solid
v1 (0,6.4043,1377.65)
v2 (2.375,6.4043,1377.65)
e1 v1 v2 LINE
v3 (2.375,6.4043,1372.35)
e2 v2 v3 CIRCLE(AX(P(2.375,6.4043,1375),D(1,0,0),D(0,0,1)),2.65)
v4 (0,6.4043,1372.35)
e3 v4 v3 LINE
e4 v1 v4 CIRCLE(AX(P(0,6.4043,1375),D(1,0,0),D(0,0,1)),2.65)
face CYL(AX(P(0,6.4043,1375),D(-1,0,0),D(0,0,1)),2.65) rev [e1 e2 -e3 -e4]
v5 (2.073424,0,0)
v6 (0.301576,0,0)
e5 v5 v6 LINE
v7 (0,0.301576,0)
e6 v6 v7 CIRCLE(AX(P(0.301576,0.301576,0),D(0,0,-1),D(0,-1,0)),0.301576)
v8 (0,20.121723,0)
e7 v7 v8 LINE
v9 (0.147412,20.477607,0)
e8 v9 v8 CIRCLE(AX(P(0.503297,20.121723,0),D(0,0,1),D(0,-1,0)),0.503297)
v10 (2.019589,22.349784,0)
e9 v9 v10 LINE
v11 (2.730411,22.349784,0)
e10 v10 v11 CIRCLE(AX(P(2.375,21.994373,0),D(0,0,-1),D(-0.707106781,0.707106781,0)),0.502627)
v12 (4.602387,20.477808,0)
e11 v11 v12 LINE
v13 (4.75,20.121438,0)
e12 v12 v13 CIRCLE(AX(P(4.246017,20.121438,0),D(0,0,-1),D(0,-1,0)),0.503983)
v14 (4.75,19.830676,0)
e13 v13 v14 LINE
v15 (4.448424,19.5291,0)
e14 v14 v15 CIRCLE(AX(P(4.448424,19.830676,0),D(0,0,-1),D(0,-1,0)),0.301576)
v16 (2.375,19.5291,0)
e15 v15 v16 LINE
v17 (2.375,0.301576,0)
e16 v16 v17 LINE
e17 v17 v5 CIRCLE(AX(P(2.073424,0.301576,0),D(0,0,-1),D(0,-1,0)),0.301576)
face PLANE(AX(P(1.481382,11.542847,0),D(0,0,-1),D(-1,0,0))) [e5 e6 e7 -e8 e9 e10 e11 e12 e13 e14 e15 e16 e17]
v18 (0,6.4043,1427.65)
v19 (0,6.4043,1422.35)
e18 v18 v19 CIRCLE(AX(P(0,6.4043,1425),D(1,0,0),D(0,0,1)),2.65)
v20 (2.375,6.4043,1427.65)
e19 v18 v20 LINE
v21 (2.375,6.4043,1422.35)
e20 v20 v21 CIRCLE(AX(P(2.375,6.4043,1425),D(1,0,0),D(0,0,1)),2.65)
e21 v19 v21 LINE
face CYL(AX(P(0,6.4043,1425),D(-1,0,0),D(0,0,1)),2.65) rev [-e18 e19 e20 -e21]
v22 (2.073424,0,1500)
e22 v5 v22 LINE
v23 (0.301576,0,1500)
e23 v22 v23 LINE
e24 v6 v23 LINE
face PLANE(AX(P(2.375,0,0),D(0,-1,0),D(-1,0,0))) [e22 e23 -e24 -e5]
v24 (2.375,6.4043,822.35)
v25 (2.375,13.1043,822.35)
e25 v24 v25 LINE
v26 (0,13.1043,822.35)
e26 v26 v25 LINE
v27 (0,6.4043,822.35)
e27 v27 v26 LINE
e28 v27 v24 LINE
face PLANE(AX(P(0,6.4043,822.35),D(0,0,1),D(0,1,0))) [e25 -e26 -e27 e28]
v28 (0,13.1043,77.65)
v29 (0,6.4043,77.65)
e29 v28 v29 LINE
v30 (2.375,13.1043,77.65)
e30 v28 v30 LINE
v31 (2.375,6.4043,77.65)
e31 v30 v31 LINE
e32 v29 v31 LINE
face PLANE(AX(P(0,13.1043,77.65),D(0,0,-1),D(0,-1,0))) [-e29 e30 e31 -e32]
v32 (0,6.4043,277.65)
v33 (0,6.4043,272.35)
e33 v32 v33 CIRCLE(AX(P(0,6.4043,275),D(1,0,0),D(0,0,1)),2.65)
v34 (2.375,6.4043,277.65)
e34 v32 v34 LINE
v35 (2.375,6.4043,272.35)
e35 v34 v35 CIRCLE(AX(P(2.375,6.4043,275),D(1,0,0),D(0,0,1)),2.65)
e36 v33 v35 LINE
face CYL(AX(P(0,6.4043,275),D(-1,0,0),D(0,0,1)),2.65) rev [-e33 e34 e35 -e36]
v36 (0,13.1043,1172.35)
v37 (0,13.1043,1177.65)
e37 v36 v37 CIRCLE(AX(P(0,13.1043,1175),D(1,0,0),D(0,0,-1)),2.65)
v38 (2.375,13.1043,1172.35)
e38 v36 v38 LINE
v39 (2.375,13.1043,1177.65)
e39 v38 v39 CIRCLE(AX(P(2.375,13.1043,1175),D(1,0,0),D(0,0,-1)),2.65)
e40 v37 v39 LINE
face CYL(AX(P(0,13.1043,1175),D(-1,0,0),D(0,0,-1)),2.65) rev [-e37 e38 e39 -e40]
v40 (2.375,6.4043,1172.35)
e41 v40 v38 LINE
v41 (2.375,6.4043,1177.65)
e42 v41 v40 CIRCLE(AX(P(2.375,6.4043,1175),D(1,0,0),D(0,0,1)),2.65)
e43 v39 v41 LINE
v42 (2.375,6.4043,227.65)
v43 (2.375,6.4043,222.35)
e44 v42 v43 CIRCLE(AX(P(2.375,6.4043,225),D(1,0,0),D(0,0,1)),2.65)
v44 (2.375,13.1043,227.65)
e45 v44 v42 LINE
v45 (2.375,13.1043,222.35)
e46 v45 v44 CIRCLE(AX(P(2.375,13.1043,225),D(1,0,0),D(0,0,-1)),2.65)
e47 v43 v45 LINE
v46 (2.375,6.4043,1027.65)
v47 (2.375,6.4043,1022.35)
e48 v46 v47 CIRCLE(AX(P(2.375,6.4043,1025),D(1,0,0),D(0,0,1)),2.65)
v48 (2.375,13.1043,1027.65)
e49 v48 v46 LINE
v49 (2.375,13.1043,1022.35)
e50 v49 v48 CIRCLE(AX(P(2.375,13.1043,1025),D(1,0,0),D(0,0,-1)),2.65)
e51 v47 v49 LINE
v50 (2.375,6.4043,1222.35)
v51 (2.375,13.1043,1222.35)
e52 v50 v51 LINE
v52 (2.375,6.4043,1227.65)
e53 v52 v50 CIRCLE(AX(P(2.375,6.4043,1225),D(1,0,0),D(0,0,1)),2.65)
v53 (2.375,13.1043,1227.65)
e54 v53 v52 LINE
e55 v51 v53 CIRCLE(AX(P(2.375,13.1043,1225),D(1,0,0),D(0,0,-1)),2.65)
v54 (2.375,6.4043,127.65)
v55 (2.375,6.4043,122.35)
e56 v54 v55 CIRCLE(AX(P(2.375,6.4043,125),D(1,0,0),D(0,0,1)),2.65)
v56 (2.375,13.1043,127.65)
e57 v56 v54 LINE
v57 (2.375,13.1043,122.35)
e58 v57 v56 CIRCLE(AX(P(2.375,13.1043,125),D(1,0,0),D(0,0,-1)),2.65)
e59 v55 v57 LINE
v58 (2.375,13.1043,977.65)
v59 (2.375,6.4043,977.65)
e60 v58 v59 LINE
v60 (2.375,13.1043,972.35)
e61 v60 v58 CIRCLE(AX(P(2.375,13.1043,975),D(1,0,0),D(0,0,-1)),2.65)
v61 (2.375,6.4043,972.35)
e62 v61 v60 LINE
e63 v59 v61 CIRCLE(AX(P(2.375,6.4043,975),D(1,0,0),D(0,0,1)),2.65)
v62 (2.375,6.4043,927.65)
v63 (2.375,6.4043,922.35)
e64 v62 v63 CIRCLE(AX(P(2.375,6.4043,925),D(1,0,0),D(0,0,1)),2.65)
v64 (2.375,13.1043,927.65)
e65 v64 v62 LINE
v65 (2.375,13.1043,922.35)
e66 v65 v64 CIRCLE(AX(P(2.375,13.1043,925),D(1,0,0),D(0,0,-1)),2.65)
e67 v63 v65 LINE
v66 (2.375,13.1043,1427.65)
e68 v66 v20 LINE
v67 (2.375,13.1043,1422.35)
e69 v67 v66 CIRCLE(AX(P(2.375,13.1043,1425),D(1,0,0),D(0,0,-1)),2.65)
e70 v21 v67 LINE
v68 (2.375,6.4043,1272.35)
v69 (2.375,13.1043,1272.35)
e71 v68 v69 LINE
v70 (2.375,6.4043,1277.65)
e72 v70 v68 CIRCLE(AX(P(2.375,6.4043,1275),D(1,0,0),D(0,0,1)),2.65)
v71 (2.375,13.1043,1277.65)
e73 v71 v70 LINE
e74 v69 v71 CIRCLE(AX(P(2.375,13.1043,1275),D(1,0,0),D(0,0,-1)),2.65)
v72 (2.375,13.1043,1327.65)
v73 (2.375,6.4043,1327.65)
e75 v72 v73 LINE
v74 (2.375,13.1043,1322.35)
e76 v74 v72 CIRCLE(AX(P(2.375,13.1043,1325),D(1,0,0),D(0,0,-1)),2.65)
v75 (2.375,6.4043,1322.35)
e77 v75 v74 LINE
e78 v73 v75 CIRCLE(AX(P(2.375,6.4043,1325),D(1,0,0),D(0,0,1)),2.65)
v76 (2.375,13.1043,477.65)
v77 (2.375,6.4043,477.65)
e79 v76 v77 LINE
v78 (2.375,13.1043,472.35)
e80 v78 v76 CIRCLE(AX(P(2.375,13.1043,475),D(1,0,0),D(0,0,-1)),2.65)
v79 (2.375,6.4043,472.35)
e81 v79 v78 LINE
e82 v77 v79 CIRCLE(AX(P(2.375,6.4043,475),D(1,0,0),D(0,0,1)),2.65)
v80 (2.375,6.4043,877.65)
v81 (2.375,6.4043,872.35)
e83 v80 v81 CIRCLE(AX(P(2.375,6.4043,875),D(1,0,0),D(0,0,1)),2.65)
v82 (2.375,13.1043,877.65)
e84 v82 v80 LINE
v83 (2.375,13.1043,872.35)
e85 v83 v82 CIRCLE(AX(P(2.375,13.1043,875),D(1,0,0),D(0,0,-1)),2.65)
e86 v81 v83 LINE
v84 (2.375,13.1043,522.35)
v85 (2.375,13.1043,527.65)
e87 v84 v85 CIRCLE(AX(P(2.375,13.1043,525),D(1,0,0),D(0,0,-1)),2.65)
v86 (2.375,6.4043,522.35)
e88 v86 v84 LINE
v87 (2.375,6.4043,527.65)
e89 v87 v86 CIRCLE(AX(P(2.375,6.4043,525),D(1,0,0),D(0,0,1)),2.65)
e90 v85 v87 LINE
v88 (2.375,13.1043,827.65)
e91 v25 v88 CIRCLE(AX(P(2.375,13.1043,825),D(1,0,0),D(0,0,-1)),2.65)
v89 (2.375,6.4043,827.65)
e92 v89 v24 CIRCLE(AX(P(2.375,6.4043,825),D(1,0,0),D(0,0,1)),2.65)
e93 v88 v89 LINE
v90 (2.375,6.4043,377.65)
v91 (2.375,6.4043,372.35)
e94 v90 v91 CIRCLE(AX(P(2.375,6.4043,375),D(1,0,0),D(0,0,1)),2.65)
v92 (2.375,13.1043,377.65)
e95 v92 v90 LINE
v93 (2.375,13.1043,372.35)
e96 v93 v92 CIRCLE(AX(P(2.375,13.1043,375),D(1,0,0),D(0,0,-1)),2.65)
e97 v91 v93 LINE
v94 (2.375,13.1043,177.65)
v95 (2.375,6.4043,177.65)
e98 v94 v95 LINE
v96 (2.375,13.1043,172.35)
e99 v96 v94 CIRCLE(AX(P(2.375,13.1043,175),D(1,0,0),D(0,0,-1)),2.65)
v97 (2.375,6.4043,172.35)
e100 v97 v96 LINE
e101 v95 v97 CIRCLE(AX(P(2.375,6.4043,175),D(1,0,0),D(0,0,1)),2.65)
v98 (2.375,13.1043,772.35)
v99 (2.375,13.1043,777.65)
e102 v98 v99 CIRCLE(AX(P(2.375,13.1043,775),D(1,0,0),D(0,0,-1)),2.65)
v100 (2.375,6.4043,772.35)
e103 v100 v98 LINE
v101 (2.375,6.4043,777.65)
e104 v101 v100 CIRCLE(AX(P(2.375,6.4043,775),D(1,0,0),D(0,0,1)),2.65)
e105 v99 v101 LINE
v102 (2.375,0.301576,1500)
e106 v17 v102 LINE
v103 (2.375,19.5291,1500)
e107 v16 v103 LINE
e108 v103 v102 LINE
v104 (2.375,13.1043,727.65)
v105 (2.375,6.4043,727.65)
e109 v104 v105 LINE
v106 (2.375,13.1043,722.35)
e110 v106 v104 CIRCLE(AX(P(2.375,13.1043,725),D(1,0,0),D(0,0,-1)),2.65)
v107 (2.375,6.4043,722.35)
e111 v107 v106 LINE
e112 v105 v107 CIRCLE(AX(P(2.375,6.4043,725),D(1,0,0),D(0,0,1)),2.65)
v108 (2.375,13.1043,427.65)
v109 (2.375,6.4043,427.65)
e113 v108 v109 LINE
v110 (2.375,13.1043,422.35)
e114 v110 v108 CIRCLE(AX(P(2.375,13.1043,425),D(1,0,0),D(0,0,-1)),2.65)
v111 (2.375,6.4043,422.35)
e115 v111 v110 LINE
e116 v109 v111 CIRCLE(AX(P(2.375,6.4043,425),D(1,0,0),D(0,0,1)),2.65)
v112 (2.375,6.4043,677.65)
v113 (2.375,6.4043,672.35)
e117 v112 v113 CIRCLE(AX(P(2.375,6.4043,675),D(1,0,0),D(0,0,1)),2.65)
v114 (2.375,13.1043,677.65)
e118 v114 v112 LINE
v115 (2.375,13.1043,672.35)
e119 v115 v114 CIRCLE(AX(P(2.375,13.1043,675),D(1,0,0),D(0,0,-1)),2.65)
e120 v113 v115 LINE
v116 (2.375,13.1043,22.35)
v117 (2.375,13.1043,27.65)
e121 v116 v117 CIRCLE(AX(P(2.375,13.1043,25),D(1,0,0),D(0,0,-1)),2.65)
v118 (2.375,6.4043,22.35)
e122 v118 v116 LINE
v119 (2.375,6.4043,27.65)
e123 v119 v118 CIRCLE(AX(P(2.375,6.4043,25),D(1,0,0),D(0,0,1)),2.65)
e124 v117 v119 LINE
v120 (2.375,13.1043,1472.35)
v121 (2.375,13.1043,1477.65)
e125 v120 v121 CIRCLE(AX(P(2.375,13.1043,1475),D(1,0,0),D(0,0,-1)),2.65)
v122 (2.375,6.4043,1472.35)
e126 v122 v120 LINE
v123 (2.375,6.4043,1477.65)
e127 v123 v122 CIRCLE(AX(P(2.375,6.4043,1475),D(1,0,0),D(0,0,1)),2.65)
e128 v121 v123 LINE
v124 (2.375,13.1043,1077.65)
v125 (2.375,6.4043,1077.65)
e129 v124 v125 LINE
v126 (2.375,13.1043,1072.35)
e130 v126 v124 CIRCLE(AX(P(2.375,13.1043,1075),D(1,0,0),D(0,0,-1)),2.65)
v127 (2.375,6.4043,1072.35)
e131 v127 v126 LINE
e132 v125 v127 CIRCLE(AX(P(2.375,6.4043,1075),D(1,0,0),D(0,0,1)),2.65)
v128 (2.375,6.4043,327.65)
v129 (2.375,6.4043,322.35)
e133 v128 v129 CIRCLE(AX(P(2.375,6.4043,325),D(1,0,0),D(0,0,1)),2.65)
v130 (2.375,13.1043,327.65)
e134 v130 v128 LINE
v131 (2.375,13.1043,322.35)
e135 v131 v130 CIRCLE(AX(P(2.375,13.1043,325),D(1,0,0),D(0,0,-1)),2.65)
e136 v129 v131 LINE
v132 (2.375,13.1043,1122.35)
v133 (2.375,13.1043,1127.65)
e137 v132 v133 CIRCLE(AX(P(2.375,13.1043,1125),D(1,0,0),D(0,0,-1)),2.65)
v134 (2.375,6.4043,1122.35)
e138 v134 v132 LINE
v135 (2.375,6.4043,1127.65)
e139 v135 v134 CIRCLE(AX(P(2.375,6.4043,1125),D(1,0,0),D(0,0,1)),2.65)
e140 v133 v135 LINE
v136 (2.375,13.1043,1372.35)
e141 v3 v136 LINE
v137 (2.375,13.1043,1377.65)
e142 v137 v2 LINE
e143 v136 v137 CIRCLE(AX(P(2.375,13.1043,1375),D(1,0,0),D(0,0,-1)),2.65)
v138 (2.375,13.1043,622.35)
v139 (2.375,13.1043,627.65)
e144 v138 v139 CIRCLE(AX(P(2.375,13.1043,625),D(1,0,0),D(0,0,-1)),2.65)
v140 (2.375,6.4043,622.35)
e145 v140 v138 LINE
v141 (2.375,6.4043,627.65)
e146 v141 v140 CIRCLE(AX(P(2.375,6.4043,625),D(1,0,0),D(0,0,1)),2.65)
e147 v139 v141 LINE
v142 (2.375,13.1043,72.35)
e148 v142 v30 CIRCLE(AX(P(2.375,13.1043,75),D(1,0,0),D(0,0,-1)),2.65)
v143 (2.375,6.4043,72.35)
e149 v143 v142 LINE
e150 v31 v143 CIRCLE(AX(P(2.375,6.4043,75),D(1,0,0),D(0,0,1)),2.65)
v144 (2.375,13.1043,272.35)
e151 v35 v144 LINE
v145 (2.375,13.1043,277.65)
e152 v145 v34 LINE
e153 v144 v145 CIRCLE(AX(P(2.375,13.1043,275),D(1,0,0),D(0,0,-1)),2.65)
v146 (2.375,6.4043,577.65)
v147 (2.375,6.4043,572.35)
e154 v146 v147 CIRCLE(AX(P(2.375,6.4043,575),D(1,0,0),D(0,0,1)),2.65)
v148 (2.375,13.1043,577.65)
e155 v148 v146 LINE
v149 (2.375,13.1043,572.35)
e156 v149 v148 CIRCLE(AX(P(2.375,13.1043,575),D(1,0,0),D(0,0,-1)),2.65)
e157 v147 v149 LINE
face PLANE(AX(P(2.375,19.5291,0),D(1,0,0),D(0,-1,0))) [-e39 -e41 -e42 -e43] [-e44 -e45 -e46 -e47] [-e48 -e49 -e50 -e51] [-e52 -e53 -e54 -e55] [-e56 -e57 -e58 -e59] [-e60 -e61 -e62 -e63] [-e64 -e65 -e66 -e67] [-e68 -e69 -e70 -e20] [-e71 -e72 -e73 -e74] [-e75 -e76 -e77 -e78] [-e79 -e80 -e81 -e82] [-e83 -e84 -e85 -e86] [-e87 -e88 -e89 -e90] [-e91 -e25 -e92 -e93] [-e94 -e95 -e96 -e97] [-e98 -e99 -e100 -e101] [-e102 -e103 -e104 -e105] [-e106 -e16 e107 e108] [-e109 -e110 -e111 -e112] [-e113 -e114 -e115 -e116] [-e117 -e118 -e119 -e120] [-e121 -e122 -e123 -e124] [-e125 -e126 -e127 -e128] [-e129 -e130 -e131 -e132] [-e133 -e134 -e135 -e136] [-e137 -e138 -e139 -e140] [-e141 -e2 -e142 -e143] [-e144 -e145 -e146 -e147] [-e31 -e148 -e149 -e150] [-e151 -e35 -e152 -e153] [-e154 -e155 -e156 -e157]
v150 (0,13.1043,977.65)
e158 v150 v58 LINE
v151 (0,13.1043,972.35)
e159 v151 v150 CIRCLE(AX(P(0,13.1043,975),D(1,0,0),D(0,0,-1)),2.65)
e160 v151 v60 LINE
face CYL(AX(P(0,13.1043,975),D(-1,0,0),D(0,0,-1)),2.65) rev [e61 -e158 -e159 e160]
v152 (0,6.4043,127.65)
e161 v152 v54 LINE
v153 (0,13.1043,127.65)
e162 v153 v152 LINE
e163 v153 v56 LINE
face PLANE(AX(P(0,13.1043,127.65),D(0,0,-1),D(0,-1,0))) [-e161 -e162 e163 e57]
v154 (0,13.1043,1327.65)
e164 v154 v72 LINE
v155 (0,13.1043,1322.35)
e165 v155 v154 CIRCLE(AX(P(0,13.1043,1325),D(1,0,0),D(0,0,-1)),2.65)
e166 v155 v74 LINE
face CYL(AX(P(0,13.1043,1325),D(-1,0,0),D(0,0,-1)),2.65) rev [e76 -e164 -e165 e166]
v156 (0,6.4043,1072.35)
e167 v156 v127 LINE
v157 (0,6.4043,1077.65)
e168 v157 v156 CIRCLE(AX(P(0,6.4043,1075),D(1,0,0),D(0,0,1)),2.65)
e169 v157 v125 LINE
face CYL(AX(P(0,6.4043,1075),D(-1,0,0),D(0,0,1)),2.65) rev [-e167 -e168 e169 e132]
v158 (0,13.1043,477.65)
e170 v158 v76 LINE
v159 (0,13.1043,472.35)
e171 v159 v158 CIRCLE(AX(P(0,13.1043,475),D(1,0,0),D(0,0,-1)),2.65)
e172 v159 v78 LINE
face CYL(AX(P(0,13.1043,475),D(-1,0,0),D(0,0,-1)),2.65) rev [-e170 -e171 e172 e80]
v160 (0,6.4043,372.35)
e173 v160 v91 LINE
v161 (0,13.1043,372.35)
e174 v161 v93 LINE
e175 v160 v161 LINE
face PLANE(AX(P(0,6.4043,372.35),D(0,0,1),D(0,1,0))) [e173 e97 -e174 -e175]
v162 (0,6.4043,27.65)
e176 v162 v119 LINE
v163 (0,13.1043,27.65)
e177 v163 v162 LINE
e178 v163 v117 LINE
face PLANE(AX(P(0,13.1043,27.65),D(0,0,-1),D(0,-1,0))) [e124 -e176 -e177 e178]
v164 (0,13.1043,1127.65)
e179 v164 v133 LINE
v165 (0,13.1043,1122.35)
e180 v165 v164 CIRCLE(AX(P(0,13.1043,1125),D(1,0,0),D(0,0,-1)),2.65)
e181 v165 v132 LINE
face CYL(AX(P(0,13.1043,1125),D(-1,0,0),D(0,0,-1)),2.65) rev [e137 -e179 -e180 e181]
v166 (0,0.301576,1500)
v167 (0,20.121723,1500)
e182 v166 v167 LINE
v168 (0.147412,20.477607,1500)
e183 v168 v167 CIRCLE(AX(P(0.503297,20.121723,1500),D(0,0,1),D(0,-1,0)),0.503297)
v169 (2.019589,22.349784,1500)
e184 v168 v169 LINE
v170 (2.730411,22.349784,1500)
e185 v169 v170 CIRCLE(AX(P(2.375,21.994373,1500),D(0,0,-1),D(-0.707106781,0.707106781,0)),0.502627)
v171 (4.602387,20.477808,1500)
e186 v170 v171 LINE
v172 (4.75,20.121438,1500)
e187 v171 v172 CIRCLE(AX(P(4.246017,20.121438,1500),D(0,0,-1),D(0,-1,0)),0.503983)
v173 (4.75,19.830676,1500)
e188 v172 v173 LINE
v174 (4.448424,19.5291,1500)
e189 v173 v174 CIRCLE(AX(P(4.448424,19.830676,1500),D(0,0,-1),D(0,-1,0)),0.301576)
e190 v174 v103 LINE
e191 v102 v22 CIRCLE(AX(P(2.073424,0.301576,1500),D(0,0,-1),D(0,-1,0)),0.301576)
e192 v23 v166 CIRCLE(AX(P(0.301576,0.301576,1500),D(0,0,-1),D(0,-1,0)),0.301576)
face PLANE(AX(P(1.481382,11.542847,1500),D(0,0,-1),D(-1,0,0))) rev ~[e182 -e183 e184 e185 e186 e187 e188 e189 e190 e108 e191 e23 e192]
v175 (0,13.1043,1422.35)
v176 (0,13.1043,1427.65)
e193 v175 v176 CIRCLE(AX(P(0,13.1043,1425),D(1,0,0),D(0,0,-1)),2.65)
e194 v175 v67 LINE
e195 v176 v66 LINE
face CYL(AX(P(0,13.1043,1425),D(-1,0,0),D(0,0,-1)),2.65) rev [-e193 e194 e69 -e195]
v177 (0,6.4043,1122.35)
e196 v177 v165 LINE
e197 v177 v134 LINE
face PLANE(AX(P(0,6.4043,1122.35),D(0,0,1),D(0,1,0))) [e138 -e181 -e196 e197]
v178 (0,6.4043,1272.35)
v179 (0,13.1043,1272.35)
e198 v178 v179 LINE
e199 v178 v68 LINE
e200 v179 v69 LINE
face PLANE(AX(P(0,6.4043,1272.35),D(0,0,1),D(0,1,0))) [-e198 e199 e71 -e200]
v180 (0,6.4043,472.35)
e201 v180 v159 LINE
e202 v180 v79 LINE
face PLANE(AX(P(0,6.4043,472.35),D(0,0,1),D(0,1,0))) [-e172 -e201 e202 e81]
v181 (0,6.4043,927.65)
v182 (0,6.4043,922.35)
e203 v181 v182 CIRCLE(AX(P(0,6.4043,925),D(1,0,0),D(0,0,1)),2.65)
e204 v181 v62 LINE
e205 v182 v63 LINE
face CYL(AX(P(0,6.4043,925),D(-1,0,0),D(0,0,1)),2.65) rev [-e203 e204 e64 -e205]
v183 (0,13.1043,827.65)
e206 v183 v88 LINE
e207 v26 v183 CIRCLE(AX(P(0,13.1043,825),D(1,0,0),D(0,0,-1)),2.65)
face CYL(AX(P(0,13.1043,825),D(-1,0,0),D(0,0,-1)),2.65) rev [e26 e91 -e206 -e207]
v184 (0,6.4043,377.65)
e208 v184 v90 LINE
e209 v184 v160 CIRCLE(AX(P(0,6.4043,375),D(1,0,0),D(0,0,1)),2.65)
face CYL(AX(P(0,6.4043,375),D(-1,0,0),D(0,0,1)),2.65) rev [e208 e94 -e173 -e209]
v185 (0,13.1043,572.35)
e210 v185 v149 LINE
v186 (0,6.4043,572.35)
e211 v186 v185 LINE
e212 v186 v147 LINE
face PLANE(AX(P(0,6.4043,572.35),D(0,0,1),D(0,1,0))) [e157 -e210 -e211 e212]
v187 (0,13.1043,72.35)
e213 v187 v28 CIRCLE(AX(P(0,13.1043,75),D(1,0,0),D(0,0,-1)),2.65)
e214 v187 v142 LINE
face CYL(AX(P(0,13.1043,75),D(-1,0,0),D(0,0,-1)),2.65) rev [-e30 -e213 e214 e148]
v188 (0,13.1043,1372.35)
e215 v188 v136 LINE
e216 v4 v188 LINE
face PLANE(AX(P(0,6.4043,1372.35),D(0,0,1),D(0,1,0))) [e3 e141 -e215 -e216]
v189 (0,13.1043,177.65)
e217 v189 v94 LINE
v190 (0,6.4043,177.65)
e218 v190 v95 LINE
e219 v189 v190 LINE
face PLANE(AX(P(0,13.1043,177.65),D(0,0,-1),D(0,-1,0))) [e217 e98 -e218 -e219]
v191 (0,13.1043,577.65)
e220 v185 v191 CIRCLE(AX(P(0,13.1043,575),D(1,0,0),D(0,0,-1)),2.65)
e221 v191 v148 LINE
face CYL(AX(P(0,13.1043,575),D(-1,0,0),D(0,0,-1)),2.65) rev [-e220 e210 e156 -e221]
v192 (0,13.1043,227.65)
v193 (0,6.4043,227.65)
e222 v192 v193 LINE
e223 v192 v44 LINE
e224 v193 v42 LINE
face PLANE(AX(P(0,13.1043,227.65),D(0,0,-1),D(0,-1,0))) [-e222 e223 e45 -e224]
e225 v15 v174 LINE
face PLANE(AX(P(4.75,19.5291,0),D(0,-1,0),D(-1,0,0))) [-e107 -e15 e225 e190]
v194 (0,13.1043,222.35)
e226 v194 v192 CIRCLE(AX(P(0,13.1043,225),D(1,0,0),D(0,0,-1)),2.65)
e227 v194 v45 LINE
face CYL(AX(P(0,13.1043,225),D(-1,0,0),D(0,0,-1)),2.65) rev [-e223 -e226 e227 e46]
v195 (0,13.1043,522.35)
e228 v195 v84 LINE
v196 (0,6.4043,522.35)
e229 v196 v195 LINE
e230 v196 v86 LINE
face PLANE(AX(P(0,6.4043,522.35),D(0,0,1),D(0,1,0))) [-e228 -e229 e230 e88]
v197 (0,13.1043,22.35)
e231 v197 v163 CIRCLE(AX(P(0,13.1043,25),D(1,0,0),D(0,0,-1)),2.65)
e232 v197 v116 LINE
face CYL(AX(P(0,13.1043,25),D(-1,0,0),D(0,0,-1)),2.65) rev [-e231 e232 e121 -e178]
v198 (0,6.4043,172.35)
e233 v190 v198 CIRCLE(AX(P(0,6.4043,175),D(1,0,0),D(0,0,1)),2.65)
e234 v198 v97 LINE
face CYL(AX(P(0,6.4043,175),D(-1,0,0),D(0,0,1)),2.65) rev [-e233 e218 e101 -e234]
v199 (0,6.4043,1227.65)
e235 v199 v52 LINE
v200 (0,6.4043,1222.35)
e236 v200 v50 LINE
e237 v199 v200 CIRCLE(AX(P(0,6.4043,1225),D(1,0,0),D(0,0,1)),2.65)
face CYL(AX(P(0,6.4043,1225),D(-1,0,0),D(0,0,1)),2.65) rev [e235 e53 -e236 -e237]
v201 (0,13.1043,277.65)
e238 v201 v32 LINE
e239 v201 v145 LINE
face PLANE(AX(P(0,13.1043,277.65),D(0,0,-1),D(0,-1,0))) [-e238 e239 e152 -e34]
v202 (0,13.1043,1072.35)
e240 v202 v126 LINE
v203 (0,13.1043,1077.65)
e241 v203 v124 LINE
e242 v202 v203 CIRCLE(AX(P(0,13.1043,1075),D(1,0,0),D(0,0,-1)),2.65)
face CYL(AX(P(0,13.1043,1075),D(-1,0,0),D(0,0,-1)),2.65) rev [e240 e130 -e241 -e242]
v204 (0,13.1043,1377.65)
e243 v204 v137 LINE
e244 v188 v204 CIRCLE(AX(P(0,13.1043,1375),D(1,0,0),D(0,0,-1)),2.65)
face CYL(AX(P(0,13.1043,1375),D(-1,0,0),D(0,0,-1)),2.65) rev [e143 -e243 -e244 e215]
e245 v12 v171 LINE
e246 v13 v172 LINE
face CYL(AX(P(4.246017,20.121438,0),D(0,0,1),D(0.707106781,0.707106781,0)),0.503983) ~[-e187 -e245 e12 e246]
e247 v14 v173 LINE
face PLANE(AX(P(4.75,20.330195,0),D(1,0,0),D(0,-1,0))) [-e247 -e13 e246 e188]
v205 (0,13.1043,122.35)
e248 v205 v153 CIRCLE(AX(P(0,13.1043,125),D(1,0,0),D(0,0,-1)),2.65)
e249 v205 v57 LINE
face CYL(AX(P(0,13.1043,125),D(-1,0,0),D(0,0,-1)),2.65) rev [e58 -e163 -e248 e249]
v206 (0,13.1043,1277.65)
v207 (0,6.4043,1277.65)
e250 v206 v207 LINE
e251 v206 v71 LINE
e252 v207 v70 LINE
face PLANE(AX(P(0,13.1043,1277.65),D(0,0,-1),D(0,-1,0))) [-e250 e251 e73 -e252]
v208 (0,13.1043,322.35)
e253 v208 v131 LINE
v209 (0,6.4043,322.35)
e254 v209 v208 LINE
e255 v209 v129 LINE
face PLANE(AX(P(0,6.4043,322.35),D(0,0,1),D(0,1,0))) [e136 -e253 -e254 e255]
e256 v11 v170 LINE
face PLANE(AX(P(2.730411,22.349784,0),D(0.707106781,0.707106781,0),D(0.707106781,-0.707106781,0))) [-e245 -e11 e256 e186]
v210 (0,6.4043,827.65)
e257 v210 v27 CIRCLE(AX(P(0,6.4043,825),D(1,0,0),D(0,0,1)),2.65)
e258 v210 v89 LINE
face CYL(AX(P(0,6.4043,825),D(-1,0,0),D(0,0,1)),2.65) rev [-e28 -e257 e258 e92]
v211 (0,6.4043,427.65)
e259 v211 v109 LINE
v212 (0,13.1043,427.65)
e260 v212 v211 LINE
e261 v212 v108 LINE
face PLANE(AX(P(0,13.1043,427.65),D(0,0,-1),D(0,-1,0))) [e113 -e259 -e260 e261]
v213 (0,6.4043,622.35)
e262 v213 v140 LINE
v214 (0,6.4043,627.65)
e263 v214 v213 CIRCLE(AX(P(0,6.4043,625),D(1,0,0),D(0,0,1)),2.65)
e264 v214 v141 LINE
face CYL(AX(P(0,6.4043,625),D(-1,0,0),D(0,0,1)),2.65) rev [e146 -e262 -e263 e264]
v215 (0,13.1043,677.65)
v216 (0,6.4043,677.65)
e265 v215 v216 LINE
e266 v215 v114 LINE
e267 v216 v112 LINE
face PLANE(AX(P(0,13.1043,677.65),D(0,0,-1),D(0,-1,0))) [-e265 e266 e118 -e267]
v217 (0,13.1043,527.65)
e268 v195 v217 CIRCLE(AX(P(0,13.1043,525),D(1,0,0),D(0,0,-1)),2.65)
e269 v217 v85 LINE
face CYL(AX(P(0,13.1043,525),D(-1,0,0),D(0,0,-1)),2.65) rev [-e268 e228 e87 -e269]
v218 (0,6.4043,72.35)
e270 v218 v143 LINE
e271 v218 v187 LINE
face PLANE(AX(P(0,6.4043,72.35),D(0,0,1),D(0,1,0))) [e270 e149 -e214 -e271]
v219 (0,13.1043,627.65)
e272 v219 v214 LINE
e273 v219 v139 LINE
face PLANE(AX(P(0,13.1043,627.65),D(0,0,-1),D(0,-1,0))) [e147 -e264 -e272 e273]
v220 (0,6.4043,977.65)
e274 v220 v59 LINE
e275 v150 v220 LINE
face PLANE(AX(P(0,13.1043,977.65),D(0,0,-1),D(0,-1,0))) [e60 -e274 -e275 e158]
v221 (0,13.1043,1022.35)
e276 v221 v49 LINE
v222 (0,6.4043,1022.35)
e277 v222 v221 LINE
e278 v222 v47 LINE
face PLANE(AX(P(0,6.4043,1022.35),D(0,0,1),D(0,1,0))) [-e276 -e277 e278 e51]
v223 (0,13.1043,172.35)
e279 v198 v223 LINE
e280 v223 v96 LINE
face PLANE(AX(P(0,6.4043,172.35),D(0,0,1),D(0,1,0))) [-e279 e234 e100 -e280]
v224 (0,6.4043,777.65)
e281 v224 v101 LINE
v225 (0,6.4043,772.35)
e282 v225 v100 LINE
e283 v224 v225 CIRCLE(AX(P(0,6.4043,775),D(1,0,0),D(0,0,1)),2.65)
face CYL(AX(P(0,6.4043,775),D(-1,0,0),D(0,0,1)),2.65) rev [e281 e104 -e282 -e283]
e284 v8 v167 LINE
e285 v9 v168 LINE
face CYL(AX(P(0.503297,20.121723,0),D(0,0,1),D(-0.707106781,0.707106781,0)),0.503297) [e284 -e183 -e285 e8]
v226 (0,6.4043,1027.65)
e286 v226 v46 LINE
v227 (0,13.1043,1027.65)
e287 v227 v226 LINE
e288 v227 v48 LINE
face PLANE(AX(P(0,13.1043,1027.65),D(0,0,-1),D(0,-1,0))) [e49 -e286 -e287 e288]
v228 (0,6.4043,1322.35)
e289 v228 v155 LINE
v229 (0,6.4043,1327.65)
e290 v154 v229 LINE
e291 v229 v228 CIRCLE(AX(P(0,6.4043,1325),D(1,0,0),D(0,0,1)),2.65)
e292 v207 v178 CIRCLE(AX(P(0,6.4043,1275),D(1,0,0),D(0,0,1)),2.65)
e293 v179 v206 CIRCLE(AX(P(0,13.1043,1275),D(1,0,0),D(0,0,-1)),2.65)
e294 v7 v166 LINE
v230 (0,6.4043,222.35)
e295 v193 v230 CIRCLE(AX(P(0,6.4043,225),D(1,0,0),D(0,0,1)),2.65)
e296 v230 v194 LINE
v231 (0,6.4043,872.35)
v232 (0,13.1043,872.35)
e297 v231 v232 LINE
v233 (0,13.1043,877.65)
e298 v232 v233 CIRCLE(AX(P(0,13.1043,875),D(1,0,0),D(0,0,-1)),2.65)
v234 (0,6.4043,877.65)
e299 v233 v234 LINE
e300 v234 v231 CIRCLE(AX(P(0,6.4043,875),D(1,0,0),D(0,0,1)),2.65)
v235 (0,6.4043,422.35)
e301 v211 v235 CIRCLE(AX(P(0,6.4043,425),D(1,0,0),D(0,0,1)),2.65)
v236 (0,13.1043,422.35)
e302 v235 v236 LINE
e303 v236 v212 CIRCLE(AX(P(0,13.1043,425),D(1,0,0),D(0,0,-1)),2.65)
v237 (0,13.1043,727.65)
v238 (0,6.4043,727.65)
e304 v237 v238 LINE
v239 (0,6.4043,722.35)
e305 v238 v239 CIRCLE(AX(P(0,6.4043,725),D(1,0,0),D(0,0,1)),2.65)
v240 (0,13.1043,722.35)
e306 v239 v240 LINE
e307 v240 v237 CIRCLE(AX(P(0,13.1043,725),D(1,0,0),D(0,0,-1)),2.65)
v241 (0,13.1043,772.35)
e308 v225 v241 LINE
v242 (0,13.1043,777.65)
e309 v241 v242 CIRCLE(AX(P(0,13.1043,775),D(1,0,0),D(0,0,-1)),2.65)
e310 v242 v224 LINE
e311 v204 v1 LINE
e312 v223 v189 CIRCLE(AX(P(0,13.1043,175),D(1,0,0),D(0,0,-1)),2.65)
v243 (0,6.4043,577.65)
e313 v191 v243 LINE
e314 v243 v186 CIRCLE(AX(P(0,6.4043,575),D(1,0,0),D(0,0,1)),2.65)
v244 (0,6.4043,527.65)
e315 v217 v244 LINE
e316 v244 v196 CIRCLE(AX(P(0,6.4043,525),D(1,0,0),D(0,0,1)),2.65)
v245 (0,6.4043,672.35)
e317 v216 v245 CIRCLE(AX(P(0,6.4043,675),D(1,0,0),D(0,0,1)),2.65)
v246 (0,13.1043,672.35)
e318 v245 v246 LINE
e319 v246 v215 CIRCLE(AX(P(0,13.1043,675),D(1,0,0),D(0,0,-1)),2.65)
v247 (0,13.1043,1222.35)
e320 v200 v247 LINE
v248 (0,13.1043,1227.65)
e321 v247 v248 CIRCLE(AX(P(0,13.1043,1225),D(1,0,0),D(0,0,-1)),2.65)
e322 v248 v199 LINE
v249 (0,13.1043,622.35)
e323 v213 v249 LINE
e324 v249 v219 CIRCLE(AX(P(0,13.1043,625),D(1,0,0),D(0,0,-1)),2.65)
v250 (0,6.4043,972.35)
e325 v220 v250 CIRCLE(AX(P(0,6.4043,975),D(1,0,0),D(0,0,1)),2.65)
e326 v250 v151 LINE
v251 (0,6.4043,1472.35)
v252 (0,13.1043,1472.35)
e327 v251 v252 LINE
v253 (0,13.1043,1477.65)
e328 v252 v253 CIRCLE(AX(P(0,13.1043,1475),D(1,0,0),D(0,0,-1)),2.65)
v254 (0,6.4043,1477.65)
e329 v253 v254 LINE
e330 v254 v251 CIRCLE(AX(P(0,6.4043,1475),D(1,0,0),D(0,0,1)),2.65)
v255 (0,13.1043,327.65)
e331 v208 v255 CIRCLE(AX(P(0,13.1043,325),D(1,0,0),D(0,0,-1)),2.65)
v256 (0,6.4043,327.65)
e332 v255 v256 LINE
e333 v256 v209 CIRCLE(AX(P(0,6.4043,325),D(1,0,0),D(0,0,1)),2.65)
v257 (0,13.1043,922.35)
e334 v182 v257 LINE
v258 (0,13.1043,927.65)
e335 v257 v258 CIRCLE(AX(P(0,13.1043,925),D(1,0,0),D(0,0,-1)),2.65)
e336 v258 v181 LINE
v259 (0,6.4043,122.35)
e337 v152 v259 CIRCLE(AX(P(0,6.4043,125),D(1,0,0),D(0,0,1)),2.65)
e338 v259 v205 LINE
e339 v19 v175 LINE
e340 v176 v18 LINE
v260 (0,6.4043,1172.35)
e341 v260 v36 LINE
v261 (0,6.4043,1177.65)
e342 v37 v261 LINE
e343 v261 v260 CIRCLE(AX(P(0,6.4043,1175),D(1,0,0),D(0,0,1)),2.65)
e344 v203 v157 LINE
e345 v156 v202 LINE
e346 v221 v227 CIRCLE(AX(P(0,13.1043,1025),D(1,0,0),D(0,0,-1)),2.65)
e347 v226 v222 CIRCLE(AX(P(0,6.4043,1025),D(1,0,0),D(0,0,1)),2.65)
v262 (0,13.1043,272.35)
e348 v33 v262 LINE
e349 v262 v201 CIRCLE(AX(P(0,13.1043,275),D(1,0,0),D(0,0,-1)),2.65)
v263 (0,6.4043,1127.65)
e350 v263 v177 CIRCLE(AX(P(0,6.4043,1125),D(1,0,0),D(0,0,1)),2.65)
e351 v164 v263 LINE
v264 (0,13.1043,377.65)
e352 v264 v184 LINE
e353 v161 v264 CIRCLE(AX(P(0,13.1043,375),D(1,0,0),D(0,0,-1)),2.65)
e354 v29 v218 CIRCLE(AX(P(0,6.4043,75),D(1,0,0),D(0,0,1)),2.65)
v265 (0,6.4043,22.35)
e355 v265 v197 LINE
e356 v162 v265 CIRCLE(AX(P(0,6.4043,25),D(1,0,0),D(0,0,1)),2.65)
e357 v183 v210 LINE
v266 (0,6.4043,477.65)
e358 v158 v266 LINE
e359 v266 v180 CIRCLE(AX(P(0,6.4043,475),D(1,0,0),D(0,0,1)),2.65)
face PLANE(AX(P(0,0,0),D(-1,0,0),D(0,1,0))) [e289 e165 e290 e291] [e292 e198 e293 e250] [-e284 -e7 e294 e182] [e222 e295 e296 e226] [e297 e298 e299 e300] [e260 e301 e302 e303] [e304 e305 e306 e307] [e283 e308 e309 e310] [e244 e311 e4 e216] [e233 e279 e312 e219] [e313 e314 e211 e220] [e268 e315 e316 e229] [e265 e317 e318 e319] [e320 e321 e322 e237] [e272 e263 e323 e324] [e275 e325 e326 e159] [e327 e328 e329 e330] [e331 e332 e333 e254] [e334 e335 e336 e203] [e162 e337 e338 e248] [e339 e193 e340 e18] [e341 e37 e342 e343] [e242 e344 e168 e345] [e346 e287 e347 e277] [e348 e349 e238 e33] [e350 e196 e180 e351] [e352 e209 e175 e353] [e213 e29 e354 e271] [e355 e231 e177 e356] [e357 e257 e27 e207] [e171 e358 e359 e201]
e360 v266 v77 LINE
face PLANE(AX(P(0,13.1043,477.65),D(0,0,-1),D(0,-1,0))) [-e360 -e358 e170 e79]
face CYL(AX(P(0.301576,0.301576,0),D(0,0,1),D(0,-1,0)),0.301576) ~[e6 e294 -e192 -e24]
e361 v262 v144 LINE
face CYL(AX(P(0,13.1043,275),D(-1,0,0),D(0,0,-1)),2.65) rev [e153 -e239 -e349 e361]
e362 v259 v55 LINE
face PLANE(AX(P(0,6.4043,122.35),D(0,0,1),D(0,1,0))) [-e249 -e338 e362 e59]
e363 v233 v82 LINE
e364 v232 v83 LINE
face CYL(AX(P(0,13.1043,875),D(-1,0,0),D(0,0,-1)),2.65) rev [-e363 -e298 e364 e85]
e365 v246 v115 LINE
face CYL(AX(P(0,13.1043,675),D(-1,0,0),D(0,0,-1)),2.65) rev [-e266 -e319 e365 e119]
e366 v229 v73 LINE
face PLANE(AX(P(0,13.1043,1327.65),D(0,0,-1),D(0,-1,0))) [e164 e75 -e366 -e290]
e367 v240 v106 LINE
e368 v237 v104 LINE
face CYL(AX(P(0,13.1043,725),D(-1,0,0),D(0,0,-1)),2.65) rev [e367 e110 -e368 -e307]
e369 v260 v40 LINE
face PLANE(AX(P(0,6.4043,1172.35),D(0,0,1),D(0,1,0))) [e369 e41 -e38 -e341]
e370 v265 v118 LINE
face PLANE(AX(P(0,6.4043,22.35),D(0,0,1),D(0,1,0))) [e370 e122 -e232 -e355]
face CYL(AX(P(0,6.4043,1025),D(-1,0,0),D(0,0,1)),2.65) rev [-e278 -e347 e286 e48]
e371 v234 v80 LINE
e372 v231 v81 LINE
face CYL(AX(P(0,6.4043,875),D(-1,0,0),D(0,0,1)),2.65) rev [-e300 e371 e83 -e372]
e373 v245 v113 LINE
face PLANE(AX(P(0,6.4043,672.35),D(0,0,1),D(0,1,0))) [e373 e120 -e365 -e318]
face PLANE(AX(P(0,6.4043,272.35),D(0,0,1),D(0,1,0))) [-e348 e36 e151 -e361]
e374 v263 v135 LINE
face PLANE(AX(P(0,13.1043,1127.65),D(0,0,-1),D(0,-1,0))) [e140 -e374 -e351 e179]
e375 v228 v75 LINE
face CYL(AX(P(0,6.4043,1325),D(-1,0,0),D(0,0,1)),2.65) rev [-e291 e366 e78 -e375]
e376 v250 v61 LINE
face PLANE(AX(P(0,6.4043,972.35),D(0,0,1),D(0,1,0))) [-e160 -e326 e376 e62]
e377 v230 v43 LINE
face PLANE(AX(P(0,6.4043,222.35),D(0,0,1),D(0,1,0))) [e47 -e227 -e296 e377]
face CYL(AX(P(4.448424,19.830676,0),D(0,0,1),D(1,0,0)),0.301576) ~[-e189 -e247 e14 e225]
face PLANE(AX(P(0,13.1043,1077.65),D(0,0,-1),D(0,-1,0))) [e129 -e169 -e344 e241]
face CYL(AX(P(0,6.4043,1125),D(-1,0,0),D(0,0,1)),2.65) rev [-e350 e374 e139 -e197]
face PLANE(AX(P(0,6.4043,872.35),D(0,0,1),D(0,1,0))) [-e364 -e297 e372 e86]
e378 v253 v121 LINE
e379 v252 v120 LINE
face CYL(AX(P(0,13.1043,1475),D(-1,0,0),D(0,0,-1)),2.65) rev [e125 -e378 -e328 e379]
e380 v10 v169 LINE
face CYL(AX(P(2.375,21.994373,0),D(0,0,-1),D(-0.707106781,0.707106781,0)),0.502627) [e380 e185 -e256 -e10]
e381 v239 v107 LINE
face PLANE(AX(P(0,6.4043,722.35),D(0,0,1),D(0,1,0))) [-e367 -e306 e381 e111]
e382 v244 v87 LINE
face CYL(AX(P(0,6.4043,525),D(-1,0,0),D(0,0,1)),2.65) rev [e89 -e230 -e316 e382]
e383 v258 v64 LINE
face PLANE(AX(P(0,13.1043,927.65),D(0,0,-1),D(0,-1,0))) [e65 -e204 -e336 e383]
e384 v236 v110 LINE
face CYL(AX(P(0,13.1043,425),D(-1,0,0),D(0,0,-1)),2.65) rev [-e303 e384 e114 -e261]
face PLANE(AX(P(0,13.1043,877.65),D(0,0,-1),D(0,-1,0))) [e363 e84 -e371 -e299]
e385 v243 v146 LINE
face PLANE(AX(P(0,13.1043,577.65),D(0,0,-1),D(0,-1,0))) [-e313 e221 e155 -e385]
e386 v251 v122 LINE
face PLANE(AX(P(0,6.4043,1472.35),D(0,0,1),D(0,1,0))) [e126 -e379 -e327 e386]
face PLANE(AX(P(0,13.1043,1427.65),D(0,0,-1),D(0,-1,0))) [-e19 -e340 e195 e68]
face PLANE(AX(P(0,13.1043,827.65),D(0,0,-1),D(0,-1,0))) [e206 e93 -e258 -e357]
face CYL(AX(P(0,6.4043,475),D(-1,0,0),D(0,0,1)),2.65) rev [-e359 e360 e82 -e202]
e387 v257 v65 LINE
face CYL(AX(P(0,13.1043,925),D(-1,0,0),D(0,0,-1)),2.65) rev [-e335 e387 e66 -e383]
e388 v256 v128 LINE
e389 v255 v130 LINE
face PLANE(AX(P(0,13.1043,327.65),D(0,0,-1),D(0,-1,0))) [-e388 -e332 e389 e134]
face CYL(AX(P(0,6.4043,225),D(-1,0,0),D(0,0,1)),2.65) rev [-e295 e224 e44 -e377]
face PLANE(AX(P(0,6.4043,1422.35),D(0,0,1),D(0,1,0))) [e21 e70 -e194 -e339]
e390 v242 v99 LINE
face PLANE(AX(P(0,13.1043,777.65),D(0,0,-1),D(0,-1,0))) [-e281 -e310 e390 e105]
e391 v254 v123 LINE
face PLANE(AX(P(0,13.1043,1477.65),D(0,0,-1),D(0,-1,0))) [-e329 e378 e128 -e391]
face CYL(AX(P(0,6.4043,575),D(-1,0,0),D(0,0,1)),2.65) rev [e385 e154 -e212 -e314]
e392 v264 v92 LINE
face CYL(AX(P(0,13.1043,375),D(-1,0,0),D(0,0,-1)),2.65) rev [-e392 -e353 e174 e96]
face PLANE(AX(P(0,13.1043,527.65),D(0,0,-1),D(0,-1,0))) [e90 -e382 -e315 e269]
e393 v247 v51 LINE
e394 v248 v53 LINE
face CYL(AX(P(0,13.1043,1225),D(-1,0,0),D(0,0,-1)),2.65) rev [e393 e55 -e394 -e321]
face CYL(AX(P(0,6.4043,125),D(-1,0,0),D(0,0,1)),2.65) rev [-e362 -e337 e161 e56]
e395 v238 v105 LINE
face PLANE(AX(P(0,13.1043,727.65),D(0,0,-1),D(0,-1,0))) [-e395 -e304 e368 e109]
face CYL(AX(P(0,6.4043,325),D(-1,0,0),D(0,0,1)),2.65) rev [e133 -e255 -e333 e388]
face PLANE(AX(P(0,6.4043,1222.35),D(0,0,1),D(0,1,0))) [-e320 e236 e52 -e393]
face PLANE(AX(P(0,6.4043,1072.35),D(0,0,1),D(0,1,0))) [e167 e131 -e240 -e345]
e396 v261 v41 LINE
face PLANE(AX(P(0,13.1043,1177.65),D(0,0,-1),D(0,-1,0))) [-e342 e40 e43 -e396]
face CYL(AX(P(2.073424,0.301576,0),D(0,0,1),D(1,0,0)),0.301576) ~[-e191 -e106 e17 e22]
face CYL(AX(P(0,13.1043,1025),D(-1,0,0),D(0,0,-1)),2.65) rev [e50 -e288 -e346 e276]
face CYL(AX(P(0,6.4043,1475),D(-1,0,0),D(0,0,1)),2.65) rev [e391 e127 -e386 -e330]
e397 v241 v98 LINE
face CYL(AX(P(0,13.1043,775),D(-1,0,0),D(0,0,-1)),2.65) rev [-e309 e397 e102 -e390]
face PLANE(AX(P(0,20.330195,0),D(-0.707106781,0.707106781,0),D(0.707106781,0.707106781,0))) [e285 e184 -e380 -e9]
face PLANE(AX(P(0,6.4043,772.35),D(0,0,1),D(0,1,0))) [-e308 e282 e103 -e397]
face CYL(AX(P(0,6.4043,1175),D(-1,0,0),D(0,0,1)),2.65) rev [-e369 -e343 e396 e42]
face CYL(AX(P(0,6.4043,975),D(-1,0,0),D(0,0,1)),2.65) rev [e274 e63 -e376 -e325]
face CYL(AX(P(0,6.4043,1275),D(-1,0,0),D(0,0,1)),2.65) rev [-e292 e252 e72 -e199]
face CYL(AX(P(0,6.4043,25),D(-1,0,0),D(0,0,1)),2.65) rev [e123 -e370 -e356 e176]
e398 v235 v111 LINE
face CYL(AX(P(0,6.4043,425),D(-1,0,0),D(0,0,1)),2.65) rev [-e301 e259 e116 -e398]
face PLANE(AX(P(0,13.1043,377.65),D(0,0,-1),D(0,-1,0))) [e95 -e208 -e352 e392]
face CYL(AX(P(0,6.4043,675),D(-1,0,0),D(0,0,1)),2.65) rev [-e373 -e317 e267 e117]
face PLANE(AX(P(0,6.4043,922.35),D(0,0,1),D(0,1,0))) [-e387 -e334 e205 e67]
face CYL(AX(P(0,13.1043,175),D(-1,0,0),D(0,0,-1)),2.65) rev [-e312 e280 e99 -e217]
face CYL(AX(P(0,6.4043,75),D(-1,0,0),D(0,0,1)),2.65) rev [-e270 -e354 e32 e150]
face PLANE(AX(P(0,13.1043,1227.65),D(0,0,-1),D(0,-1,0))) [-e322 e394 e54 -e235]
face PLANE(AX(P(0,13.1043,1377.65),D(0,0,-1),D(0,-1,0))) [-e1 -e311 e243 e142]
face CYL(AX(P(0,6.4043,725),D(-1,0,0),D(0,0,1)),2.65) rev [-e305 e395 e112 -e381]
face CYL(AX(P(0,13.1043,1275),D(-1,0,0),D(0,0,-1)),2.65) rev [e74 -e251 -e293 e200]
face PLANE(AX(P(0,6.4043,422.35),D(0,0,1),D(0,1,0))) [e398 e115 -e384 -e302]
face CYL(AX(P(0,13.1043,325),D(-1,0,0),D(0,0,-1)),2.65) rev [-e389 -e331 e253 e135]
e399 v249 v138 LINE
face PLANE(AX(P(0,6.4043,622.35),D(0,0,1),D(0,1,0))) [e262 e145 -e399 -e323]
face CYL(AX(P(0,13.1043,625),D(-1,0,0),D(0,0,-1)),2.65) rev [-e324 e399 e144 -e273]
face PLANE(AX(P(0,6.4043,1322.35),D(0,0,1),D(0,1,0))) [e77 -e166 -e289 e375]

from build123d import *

# Parameters (mm, degrees)
BOSS_EXTRUDE1_DEPTH = 1500
FILLET1_R           = 0.50329666
FILLET2_R           = 0.50398302
FILLET3_R           = 0.30157619
FILLET4_R           = 0.30157551
CUT_EXTRUDE1_DEPTH  = 2.375
LPATTERN1_COUNT     = 30
LPATTERN1_PITCH     = 50


with BuildPart() as part:
    # Sketch1 → Boss-Extrude1 (new body)
    with BuildSketch(Plane.XY):
        with BuildLine():
            Line((0, 20.330194912), (2.019589054, 22.349783966))
            ThreePointArc((2.019589054, 22.349783966), (2.375, 22.497), (2.730410946, 22.349783966))
            Line((2.730410946, 22.349783966), (4.75, 20.330194912))
            Line((4.75, 20.330194912), (4.75, 19.5291))
            Line((4.75, 19.5291), (2.375, 19.5291))
            Line((2.375, 19.5291), (2.375, 0))
            Line((2.375, 0), (0, 0))
            Line((0, 0), (0, 20.330194912))
        make_face()
    extrude(amount=BOSS_EXTRUDE1_DEPTH)

    # Fillet1
    fillet1_edges = [part.edges().sort_by_distance(p)[0] for p in [
        (0, 20.330194912, 750),
    ]]
    fillet(fillet1_edges, radius=FILLET1_R)

    # Fillet2
    fillet2_edges = [part.edges().sort_by_distance(p)[0] for p in [
        (4.75, 20.330194912, 750),
    ]]
    fillet(fillet2_edges, radius=FILLET2_R)

    # Fillet3
    fillet3_edges = [part.edges().sort_by_distance(p)[0] for p in [
        (4.75, 19.5291, 750),
    ]]
    fillet(fillet3_edges, radius=FILLET3_R)

    # Fillet4
    fillet4_edges = [part.edges().sort_by_distance(p)[0] for p in [
        (2.375, 0, 750),
        (0, 0, 750),
    ]]
    fillet(fillet4_edges, radius=FILLET4_R)

    # Sketch2 → Cut-Extrude1 (cut)
    with BuildSketch(Plane.ZY):
        with BuildLine():
            Line((27.65, 13.1043), (27.65, 6.4043))
            ThreePointArc((27.65, 6.4043), (25, 3.7543), (22.35, 6.4043))
            Line((22.35, 6.4043), (22.35, 13.1043))
            ThreePointArc((22.35, 13.1043), (25, 15.7543), (27.65, 13.1043))
        make_face()
    cut_extrude1 = extrude(amount=-CUT_EXTRUDE1_DEPTH, mode=Mode.SUBTRACT)

    # LPattern1: Cut-Extrude1 ×30
    with Locations(*[(0, 0, i * LPATTERN1_PITCH) for i in range(1, LPATTERN1_COUNT)]):
        add(cut_extrude1, mode=Mode.SUBTRACT)


solid = part.part
